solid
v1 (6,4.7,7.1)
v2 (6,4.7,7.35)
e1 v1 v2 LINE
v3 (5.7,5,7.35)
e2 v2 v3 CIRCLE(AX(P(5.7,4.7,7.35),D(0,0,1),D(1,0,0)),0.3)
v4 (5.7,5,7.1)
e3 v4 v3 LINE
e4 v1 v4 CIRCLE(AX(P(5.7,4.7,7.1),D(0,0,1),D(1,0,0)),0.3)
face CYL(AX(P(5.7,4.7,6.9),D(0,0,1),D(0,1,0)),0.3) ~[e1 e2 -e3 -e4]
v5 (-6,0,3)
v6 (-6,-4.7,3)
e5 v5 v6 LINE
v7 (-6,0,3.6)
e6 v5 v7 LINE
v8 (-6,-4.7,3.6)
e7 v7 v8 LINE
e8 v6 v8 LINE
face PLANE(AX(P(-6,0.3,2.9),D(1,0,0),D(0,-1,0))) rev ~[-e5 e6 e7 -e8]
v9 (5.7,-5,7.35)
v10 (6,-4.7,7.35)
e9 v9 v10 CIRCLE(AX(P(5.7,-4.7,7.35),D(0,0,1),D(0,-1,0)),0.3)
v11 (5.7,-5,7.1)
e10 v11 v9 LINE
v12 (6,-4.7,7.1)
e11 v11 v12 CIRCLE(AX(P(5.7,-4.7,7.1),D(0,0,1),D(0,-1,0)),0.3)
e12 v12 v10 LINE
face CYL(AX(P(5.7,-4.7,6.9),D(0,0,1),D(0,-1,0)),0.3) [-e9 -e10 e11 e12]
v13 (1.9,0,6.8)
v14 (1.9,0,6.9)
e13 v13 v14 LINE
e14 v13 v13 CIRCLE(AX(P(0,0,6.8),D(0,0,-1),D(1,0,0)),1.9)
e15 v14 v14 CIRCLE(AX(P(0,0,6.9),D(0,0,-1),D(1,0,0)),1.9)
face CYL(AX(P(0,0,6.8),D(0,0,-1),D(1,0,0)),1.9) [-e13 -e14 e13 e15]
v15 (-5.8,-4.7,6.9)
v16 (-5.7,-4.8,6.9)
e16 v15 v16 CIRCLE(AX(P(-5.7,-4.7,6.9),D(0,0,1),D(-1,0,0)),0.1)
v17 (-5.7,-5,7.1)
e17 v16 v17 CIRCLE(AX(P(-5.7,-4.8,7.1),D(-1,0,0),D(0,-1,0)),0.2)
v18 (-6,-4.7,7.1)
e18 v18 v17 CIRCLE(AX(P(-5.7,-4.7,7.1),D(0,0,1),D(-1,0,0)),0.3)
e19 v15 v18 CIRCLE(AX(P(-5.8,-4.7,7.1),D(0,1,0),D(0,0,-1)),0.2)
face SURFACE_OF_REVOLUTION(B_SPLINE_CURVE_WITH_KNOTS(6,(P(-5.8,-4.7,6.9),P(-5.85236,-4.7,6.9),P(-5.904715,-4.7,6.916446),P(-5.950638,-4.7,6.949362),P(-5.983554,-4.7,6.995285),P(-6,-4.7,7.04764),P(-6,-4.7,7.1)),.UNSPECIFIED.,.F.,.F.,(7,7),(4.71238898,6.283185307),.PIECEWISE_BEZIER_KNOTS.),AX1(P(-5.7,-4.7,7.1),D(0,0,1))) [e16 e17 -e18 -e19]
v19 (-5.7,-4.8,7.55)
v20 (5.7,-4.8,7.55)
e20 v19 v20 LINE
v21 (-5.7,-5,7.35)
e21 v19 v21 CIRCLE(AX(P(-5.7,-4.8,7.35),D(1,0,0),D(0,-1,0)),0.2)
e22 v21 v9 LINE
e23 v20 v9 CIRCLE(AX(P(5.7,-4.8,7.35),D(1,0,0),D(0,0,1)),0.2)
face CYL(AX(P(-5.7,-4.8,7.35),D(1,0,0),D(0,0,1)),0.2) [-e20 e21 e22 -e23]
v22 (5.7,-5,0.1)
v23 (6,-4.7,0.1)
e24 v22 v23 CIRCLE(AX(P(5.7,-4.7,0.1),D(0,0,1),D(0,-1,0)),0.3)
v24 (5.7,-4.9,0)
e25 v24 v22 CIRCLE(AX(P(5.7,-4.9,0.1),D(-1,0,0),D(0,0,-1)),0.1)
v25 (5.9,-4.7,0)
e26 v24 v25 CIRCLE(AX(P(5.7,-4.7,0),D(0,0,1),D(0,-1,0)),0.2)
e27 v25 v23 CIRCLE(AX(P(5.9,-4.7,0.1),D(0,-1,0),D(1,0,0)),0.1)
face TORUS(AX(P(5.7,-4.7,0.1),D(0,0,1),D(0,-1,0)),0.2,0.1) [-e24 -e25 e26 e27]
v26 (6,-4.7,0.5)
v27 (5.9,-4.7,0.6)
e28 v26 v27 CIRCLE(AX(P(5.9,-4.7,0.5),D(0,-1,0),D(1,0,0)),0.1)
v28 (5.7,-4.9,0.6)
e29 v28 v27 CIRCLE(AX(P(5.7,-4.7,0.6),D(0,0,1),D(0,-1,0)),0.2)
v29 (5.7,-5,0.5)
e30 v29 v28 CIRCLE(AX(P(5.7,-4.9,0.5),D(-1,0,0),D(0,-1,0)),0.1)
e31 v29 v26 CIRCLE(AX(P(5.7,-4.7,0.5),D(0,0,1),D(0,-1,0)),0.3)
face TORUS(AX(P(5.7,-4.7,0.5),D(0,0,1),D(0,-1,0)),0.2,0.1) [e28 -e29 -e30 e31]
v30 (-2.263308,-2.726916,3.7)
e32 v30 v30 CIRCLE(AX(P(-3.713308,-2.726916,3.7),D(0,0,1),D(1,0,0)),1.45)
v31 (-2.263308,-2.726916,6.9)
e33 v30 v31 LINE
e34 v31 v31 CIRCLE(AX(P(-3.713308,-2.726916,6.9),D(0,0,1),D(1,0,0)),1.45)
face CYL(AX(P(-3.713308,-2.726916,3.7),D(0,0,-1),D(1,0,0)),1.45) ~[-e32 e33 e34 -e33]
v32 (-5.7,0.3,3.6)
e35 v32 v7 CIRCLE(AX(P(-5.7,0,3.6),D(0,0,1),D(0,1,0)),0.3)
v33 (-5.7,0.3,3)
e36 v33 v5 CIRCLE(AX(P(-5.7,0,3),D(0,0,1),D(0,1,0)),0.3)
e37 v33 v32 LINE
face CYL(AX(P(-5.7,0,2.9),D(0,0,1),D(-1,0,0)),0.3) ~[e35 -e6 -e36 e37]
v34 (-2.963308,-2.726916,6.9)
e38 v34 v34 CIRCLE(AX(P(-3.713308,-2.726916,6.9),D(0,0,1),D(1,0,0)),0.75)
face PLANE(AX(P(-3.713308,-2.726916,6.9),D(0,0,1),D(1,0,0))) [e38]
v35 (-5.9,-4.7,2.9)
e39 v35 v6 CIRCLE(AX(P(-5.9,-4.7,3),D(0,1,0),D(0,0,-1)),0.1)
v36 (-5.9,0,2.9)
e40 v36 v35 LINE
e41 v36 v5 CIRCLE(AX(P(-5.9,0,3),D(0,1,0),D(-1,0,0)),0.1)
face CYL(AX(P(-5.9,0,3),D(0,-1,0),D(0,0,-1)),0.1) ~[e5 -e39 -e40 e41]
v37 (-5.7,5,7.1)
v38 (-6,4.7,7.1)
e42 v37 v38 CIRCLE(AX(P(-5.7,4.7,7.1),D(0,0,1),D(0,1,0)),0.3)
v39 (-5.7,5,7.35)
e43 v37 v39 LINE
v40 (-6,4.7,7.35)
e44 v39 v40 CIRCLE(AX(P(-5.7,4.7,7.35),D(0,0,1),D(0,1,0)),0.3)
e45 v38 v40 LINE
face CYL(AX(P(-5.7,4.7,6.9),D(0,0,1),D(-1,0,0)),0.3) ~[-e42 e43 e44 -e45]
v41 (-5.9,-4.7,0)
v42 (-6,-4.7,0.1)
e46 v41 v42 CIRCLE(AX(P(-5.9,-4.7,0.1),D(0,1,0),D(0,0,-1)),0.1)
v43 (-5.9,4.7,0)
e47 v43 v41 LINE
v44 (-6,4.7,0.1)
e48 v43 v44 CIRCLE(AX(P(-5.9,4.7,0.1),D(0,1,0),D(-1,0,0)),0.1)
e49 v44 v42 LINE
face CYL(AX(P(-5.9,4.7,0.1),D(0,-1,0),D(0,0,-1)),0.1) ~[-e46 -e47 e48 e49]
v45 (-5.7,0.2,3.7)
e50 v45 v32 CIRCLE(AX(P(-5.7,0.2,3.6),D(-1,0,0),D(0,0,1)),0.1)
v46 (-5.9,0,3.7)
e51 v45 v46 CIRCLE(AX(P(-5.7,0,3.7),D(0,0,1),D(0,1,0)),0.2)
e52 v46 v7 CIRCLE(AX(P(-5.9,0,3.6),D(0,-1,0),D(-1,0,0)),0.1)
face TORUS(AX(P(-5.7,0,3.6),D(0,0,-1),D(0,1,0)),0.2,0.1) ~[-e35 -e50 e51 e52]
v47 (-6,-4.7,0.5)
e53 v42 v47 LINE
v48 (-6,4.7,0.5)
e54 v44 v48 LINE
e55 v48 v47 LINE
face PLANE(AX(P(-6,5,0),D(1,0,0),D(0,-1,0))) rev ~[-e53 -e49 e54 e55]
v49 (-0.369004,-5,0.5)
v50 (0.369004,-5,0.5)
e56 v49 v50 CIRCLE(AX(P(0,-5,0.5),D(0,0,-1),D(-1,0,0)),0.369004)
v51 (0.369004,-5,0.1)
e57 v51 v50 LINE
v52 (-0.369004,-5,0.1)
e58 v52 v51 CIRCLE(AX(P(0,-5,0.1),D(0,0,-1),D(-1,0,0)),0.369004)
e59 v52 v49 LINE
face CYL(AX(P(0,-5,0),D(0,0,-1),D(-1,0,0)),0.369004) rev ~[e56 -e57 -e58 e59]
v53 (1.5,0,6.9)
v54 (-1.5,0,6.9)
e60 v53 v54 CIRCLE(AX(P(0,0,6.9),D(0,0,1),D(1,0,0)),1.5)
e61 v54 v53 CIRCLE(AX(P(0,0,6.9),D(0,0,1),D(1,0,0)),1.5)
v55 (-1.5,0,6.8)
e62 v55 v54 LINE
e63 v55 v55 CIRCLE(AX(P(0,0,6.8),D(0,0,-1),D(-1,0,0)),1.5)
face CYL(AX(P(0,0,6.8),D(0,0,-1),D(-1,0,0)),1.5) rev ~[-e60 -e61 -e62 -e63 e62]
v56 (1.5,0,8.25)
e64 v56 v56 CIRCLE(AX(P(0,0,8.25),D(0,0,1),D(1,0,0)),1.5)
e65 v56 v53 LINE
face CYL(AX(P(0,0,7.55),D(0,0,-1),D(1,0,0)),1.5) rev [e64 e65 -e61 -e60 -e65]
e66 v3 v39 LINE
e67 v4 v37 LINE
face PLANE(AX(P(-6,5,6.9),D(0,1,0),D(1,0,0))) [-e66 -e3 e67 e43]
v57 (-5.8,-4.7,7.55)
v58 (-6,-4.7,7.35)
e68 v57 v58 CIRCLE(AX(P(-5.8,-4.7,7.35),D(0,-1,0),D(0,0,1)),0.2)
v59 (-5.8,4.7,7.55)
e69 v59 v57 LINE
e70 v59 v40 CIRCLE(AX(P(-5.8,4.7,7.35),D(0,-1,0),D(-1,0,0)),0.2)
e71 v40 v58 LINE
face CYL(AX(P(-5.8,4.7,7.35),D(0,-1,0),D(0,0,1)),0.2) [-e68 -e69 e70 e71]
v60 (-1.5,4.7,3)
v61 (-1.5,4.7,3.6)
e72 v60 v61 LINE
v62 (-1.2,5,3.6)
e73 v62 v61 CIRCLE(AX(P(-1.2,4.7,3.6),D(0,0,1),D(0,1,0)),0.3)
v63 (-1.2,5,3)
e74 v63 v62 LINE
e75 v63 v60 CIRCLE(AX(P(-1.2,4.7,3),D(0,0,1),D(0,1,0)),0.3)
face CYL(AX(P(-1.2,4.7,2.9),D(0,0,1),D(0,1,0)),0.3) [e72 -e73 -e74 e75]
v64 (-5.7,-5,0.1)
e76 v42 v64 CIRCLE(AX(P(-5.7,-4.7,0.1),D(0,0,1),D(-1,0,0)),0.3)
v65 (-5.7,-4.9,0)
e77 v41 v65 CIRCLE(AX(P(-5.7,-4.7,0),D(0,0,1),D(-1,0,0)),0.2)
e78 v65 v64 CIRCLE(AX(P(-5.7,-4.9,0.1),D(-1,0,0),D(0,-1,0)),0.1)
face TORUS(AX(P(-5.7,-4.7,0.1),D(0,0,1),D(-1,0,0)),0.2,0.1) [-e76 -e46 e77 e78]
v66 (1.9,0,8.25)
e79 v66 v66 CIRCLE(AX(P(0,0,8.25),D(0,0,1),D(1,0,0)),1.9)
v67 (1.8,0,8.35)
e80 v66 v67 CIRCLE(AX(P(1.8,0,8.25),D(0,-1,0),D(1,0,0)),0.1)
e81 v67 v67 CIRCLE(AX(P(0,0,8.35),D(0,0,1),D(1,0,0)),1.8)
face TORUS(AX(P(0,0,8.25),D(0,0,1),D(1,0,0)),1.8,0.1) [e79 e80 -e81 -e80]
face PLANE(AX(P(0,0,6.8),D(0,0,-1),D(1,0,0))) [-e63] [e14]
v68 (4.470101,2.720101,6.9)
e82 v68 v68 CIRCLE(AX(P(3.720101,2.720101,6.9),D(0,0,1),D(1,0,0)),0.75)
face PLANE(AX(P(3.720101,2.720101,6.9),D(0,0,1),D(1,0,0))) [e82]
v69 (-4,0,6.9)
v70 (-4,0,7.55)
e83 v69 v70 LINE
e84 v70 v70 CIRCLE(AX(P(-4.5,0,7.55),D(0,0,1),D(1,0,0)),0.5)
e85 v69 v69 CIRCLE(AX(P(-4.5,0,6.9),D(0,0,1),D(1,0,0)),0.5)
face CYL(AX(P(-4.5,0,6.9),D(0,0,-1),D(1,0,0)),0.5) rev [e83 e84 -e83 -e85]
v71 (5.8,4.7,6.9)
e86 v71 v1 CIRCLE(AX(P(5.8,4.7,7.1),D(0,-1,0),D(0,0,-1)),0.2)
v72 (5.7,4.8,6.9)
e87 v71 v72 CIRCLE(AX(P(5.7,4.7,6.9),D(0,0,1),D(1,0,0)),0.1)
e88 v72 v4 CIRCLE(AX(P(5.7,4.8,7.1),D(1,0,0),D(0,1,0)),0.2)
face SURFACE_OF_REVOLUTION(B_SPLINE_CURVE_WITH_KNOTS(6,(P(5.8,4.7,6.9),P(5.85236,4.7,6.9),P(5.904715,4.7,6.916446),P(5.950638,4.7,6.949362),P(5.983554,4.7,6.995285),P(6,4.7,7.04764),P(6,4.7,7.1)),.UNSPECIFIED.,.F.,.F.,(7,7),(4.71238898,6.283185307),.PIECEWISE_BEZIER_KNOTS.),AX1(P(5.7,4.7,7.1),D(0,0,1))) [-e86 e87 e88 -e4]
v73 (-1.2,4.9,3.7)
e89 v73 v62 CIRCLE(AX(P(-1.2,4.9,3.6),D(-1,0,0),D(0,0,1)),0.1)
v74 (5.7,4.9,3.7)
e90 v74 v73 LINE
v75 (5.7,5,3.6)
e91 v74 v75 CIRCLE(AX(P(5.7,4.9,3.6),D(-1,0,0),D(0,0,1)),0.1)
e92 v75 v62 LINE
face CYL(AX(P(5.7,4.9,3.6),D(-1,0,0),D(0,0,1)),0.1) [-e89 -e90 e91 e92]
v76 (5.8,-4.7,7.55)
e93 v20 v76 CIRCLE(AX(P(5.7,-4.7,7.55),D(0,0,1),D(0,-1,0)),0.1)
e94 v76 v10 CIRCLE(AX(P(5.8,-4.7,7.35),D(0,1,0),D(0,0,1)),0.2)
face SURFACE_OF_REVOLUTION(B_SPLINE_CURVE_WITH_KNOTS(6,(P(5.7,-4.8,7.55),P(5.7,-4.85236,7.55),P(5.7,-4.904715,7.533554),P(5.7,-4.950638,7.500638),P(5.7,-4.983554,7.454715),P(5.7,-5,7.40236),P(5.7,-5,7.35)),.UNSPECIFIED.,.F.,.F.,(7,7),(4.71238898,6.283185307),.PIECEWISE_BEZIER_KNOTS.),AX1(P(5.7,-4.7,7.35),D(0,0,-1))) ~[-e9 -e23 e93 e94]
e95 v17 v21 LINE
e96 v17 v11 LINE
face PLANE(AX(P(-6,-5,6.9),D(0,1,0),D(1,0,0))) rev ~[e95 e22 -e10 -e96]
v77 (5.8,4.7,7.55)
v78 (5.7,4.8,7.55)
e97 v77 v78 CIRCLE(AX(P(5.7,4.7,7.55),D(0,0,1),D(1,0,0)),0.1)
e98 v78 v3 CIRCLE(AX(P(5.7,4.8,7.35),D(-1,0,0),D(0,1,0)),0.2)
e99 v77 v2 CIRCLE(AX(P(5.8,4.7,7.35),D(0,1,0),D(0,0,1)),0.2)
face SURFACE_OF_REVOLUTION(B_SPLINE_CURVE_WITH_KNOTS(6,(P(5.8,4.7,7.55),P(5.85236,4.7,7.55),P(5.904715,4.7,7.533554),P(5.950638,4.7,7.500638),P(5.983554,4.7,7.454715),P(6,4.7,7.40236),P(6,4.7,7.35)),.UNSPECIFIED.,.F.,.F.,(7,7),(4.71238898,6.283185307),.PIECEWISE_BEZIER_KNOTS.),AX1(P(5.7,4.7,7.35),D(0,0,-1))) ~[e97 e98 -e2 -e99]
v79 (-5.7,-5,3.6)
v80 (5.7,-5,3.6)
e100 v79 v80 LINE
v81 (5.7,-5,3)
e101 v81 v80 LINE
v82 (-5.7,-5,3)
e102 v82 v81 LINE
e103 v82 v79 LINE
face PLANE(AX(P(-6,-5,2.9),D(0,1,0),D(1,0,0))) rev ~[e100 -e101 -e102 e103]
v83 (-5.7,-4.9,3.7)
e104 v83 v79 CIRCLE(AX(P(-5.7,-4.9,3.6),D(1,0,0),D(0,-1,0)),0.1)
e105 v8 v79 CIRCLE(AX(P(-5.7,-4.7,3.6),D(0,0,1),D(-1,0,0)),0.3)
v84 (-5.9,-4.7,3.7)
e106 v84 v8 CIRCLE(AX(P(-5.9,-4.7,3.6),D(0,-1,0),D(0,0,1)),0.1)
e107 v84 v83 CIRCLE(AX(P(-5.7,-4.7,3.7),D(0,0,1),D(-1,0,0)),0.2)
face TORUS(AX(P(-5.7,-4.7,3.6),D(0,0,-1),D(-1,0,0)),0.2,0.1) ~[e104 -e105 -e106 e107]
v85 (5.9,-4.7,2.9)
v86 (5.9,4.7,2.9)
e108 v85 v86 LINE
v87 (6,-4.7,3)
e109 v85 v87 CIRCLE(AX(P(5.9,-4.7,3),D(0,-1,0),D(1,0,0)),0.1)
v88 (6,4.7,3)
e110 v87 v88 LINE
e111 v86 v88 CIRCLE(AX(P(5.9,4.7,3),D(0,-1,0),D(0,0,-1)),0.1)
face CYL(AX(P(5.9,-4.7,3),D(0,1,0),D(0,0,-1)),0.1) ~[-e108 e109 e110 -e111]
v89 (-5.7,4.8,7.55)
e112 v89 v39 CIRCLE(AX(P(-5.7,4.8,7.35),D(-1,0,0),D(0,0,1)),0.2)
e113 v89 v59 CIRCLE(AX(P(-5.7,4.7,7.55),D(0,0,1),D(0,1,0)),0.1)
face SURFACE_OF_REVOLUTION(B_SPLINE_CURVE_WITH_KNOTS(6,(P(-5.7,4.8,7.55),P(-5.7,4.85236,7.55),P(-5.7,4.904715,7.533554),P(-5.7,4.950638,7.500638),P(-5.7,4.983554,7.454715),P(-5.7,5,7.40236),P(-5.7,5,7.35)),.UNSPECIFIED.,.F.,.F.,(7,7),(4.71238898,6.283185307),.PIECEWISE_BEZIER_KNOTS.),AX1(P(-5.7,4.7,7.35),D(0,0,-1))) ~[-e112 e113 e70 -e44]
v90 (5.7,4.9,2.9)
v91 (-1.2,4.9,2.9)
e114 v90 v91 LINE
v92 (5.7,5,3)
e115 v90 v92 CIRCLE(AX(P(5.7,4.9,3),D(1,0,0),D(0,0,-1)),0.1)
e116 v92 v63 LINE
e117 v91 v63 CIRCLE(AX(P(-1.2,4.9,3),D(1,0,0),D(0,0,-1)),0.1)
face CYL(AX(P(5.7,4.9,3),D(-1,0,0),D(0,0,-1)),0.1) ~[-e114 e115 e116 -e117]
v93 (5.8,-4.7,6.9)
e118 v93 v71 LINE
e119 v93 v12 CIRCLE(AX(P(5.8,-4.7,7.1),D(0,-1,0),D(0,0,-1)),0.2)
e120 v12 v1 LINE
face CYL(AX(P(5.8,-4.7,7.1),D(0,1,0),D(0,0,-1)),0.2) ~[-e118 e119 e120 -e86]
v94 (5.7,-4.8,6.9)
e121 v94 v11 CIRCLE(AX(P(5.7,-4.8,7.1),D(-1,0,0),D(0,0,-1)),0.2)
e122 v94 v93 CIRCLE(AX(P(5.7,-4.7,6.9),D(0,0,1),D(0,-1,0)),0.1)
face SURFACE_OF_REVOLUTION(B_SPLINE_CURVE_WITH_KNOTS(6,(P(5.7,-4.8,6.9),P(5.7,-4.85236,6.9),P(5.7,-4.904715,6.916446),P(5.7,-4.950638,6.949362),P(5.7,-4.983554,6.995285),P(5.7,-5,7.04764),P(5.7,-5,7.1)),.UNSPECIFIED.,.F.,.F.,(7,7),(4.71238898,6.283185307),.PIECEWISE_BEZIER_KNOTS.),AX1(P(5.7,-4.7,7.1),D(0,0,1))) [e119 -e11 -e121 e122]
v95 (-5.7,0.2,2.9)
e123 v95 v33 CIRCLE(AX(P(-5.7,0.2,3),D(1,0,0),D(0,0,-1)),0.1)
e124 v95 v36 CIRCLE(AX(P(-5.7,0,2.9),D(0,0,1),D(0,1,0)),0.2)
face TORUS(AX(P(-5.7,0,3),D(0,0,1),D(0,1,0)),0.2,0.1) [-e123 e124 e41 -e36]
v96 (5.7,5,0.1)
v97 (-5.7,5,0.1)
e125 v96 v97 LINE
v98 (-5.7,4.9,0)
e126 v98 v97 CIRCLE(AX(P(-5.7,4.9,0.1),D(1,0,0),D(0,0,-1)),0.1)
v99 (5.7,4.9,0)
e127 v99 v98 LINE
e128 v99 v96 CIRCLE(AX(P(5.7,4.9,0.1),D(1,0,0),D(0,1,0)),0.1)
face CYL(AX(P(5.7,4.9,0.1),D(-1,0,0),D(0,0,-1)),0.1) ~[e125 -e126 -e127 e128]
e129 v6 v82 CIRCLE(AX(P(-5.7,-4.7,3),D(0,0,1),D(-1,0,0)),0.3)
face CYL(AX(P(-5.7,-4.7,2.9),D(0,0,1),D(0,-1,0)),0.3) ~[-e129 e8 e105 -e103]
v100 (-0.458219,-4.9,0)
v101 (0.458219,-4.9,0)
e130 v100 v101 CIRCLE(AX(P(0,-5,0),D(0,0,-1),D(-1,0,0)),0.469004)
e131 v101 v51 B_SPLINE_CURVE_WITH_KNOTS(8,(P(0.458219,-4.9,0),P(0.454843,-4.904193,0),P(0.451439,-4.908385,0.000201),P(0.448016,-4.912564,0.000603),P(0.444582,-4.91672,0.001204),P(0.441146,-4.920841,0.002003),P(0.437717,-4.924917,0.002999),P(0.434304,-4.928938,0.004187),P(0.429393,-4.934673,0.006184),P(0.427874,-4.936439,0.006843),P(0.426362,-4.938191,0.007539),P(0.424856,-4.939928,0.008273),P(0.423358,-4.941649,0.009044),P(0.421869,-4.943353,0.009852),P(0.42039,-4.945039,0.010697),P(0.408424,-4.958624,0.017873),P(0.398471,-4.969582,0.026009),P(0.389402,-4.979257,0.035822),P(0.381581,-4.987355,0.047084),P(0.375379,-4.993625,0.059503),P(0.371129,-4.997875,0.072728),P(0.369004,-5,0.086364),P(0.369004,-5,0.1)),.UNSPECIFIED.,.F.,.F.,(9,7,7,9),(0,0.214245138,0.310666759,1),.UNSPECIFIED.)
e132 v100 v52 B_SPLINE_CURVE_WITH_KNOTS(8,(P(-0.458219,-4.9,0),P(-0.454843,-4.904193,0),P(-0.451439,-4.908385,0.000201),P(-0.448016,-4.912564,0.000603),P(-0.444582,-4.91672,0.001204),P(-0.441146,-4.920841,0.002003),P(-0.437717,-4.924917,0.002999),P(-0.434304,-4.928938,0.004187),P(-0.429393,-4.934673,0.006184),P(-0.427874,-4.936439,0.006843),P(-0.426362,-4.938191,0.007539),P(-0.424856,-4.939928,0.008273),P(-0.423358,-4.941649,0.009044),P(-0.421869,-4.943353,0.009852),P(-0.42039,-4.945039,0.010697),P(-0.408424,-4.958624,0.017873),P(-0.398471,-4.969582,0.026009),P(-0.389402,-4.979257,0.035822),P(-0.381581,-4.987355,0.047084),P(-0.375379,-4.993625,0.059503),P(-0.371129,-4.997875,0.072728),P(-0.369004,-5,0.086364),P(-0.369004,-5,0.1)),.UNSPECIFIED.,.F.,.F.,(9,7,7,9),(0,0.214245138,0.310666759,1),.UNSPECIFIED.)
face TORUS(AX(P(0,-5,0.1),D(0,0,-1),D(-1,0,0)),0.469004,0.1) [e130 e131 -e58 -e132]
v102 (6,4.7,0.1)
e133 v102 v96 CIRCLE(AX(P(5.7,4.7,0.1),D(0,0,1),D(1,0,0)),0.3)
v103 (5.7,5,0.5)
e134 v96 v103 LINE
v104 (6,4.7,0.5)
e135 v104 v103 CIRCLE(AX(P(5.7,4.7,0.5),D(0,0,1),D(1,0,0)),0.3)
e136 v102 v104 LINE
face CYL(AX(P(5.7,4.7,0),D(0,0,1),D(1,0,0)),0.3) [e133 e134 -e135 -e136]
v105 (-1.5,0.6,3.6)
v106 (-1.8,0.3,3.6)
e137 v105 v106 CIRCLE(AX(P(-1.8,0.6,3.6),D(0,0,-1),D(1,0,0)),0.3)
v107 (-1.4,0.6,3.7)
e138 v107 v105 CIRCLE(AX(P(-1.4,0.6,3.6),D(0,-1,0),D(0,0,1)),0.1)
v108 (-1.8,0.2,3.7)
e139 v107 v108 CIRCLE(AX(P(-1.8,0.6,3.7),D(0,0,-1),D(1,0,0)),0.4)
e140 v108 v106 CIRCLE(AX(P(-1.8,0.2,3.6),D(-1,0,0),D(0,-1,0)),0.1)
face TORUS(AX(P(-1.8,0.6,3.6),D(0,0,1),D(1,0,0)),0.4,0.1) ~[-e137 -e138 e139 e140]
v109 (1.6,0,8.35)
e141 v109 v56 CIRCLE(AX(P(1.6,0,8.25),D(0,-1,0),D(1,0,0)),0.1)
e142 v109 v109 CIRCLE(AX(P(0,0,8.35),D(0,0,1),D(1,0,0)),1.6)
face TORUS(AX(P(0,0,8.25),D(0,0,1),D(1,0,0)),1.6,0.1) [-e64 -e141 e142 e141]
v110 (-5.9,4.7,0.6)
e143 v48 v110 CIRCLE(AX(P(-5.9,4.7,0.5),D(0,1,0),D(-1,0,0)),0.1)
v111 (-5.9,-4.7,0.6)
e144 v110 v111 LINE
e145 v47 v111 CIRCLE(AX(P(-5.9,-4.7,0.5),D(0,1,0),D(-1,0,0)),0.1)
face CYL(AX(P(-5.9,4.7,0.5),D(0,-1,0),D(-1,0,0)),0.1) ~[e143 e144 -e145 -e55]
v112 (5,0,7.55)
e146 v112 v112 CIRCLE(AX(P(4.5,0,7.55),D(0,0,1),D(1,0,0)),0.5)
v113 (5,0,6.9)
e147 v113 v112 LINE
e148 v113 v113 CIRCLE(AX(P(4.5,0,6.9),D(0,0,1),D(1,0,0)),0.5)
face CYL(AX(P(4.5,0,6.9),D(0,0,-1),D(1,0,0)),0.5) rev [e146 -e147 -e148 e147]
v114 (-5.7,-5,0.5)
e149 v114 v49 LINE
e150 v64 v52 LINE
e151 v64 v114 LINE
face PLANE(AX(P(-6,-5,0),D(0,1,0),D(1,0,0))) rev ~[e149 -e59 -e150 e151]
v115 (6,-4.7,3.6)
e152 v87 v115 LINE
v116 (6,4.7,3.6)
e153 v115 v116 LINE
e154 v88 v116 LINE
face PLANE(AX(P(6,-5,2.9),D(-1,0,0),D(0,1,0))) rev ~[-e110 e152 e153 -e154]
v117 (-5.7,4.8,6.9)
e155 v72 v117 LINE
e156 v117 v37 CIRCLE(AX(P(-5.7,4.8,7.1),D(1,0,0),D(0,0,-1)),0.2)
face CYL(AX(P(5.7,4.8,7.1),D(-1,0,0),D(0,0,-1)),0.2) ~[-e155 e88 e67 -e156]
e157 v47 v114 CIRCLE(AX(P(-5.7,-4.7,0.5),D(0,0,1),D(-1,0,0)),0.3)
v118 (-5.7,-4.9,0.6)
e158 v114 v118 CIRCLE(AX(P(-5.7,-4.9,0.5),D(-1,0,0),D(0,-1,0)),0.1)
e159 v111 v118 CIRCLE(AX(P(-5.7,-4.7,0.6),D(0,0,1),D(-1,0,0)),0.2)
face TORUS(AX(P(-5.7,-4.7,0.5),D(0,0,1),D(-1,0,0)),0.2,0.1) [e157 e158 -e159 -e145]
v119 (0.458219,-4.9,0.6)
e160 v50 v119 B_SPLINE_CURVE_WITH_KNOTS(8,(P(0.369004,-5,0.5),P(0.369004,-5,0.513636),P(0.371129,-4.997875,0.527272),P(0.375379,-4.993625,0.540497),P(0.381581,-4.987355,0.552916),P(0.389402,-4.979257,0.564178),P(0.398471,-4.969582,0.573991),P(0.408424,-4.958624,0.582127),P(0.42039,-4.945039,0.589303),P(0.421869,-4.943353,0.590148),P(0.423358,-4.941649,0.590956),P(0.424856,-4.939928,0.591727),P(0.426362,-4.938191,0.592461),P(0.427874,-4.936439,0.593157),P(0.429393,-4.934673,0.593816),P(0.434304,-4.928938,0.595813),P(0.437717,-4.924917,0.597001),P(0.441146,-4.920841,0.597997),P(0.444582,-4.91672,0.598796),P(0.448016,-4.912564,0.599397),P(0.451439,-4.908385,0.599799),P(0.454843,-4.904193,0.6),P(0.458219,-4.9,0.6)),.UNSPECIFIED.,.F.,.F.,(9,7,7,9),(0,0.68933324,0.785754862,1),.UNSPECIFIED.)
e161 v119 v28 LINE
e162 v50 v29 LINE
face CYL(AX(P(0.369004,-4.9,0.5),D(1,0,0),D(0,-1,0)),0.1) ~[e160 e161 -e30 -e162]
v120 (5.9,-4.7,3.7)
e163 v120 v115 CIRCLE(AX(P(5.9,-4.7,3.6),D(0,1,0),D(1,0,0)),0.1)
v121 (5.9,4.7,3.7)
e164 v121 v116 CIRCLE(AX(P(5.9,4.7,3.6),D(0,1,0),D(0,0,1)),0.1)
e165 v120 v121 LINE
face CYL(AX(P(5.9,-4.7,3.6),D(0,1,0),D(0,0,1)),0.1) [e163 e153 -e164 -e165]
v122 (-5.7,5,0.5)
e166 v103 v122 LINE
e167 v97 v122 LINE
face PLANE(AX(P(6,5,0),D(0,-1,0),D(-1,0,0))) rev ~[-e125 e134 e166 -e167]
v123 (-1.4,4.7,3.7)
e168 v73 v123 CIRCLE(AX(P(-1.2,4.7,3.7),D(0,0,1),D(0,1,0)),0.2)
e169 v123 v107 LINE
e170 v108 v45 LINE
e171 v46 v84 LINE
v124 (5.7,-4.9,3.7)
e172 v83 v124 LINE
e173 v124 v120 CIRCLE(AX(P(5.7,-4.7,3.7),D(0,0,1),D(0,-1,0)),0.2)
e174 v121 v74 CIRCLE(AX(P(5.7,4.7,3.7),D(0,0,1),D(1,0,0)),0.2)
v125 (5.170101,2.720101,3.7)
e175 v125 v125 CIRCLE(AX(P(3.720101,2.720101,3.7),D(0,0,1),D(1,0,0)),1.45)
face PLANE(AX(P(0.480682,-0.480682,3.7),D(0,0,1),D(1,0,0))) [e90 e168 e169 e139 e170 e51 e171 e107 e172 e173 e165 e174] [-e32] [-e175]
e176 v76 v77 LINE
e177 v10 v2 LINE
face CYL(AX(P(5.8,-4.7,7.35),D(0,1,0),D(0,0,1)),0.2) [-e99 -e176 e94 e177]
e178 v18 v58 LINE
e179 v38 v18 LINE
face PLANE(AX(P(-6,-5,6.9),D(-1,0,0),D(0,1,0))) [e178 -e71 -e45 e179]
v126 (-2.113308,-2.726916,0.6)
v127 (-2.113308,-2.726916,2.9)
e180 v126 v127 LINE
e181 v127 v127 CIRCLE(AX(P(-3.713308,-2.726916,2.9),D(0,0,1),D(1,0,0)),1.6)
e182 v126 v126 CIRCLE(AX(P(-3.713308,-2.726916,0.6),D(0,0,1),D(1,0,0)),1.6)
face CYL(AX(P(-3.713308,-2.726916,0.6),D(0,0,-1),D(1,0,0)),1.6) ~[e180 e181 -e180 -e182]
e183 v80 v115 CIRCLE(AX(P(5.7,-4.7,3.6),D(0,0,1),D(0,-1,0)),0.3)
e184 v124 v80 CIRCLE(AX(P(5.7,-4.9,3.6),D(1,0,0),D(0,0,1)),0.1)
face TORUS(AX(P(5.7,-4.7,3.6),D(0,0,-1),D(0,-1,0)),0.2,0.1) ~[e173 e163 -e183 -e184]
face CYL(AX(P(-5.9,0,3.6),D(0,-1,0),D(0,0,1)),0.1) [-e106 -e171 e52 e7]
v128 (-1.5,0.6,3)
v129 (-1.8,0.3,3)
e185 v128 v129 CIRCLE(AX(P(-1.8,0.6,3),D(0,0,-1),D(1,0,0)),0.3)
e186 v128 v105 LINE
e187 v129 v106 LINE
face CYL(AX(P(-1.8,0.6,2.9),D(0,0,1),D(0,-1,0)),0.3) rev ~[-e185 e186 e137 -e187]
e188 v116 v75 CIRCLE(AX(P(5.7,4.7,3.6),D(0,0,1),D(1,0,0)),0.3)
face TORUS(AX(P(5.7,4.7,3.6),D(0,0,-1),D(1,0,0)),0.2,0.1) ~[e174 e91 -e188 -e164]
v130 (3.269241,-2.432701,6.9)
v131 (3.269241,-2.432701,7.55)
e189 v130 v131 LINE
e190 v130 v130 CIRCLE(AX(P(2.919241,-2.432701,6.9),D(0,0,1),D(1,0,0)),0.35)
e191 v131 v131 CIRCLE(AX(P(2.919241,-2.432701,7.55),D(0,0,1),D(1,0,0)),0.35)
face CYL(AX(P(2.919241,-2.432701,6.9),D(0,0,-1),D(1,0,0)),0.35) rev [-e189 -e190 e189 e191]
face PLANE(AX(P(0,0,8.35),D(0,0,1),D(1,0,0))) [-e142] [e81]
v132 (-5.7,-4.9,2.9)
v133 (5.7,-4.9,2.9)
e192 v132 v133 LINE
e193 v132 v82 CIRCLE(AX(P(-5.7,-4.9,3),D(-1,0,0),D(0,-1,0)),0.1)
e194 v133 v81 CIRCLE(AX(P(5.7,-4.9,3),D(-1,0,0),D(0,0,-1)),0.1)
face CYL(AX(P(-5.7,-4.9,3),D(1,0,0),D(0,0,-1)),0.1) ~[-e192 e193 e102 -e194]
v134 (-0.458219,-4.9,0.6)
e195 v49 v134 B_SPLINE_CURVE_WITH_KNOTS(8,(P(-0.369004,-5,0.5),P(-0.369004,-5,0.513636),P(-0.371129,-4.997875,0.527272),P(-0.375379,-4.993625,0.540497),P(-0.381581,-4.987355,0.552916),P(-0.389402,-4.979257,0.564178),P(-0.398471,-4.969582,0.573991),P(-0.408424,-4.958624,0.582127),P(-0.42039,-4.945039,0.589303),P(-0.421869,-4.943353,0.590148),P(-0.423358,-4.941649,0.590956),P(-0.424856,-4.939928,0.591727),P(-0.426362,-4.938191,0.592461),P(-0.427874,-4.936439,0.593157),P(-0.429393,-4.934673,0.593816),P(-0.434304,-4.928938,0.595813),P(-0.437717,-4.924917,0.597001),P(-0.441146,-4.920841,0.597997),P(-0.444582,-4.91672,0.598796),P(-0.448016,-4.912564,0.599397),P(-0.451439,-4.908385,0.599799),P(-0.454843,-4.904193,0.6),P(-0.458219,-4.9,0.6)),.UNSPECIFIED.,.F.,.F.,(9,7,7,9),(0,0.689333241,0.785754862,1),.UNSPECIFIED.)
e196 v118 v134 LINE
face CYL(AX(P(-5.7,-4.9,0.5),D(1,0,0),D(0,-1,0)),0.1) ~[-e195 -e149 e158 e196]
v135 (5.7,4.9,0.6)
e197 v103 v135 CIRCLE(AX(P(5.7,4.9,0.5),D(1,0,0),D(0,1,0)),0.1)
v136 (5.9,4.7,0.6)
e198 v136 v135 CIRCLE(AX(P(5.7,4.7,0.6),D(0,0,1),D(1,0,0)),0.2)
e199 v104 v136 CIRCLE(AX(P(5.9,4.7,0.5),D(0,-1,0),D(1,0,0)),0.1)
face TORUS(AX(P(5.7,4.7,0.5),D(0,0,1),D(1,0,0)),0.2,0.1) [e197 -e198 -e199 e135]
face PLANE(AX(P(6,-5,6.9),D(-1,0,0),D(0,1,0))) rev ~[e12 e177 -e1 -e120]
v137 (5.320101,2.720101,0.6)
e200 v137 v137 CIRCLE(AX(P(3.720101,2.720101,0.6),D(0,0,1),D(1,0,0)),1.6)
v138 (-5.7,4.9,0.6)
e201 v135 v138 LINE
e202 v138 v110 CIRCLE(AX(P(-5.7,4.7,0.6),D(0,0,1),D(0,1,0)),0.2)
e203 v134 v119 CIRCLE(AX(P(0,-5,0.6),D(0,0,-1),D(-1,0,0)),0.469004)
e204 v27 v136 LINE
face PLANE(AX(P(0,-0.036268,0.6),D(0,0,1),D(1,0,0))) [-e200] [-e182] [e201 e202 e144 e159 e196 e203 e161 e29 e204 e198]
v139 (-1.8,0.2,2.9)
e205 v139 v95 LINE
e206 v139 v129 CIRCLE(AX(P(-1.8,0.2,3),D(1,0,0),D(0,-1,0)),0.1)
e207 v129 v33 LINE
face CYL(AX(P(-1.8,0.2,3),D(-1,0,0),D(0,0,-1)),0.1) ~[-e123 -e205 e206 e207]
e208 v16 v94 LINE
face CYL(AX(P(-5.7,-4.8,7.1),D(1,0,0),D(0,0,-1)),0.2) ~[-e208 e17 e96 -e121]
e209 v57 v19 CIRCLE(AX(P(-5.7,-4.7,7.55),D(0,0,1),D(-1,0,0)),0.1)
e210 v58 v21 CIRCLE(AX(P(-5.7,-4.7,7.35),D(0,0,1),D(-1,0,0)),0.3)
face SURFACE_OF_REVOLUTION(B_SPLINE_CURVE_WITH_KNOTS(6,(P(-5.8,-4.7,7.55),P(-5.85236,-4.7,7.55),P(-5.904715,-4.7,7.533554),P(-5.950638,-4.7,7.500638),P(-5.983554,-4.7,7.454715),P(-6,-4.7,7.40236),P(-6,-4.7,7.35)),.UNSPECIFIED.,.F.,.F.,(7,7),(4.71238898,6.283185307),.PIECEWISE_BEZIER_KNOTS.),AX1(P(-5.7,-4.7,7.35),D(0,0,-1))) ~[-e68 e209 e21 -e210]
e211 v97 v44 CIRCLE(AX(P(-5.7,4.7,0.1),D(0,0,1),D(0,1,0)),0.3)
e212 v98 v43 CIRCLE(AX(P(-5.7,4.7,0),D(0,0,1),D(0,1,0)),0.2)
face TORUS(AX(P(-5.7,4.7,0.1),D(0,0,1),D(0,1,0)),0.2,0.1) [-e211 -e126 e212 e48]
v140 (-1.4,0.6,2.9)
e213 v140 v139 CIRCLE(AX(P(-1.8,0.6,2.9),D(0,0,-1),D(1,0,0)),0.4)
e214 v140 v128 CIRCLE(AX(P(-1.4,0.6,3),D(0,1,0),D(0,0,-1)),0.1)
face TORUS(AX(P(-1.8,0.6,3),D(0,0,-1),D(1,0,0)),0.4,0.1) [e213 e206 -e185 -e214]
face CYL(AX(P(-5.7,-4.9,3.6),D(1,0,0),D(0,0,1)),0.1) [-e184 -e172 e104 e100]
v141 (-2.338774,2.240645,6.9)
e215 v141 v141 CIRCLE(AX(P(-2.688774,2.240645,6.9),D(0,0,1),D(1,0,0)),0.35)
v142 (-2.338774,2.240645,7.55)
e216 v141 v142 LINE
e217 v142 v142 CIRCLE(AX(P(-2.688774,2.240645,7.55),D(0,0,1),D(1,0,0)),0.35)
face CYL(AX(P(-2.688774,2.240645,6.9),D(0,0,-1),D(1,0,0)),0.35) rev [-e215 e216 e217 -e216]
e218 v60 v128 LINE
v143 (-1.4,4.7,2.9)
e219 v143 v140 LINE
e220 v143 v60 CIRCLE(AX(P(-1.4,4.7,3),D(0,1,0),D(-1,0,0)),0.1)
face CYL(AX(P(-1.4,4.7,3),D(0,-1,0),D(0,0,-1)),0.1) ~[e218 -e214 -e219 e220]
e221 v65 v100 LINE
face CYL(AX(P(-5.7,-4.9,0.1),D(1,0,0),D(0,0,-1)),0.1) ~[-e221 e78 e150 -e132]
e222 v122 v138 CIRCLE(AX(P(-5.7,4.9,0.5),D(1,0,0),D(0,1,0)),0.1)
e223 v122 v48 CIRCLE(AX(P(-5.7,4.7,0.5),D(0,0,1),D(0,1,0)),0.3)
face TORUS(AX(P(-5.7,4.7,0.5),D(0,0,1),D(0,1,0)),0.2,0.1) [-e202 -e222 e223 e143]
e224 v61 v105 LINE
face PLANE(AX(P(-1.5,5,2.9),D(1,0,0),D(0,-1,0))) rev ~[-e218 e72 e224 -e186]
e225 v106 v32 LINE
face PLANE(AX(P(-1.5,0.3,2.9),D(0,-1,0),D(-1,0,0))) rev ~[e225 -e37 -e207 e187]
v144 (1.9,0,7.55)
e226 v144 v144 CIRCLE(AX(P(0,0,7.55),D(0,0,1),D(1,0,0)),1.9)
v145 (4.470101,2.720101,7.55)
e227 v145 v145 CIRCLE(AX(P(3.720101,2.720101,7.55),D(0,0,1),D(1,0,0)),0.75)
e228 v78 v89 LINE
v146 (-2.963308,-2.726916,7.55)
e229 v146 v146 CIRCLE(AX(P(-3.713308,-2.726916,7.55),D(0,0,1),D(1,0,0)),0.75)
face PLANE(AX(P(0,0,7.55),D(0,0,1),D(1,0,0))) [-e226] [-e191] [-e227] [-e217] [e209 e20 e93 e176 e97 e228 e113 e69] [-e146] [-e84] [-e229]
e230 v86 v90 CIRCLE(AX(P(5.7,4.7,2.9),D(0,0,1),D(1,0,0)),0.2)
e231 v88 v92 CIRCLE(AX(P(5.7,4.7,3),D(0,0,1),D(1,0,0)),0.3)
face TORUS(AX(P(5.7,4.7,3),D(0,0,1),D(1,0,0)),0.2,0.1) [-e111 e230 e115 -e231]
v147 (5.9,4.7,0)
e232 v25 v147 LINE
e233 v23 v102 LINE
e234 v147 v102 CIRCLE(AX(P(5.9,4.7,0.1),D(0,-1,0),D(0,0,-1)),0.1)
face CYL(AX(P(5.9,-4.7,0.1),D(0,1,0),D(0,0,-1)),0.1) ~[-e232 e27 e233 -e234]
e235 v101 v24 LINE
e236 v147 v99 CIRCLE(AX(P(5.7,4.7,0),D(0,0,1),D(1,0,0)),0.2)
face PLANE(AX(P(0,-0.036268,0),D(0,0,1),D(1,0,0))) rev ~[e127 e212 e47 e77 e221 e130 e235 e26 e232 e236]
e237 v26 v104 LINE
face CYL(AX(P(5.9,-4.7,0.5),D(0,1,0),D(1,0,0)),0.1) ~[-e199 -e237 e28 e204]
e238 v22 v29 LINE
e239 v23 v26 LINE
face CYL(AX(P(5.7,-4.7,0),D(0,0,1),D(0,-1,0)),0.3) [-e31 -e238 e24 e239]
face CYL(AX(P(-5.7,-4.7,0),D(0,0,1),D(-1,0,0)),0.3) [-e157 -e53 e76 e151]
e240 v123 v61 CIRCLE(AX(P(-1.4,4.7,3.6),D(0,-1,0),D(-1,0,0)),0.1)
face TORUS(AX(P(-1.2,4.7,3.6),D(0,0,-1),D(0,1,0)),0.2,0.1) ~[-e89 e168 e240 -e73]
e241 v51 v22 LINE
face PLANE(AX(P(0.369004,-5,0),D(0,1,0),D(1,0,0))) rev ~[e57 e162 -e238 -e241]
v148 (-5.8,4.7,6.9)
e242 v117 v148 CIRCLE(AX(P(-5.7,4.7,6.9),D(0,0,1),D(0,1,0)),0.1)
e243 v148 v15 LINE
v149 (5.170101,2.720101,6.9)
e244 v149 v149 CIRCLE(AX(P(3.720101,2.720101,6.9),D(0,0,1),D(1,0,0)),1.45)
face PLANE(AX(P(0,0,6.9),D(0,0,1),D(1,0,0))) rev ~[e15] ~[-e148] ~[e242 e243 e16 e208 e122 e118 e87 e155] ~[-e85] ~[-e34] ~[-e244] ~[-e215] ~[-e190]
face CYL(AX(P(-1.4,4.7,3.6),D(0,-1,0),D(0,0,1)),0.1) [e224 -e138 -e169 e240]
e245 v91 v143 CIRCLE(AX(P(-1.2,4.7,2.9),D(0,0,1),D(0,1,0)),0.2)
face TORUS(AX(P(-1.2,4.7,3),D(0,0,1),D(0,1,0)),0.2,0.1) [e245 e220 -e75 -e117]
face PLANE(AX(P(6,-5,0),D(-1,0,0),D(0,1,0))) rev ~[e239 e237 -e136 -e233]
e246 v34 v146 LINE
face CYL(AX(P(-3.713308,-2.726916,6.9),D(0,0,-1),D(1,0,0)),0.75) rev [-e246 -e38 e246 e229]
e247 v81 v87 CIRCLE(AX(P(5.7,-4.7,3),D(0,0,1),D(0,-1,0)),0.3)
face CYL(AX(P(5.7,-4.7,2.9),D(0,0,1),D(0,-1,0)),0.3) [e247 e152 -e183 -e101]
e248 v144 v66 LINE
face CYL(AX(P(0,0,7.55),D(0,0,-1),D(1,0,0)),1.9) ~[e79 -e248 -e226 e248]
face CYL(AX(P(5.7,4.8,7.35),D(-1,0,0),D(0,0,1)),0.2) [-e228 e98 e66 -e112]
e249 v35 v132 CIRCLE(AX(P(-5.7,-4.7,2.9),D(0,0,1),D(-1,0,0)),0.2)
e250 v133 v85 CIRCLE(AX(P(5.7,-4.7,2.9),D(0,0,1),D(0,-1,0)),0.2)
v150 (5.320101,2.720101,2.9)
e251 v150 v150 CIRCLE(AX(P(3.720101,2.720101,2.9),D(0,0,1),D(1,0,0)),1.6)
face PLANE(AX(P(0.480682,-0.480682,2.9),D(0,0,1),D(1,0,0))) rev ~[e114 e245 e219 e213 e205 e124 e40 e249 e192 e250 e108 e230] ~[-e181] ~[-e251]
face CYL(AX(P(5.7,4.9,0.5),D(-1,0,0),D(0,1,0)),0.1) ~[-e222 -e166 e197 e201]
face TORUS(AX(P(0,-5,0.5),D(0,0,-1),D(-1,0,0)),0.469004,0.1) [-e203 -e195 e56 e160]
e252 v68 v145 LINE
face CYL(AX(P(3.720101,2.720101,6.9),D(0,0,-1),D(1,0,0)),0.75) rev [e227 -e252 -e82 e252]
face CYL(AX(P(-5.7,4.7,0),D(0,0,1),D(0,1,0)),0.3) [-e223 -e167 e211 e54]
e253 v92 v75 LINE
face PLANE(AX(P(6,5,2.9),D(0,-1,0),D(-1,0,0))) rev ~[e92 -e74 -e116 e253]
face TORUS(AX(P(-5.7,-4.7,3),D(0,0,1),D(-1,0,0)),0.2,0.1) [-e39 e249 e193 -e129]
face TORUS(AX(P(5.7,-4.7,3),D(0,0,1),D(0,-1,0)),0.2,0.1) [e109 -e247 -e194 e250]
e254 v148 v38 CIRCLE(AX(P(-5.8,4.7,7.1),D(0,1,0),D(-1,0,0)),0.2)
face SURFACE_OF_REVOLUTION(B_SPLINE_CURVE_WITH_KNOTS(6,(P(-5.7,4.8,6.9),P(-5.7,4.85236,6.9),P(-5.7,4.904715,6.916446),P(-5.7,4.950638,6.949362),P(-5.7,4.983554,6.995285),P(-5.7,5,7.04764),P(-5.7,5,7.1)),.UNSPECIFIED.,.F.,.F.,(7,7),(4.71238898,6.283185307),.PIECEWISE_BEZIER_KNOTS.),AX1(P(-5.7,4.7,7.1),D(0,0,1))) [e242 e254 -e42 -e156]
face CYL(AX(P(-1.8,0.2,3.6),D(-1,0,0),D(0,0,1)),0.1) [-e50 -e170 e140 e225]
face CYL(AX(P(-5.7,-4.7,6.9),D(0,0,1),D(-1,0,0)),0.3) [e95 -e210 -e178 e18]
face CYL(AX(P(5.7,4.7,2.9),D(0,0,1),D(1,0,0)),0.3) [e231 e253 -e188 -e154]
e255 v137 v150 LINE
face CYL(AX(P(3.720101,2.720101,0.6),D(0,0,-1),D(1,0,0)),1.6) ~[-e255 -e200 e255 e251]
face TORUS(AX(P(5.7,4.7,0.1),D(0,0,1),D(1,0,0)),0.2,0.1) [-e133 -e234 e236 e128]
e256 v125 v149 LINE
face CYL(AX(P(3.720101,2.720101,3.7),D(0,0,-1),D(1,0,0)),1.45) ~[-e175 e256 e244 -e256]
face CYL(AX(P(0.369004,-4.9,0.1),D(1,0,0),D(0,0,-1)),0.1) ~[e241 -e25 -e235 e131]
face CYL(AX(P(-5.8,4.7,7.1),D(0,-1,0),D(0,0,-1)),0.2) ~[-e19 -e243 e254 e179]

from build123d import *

# Parameters (mm, degrees)
BOSS_EXTRUDE1_DEPTH = 0.6
FILLET1_R           = 0.3
FILLET2_R           = 0.1
SKETCH2_R           = 1.6
BOSS_EXTRUDE2_DEPTH = 2.3
BOSS_EXTRUDE3_DEPTH = 0.8
FILLET3_R           = 0.3
FILLET4_R           = 0.1
SKETCH4_R           = 1.45
BOSS_EXTRUDE4_DEPTH = 3.2
SKETCH5_W           = 12
SKETCH5_H           = 10
SKETCH5_R           = 0.75
SKETCH5_R_2         = 0.5
SKETCH5_R_3         = 0.35
SKETCH5_R_4         = 1.5
BOSS_EXTRUDE5_DEPTH = 0.65
FILLET5_R           = 0.3
FILLET6_R           = 0.2
SKETCH6_R           = 1.9
SKETCH6_R_2         = 1.5
BOSS_EXTRUDE6_DEPTH = 0.8
FILLET7_R           = 0.1
BOSS_EXTRUDE7_START = 0.1
SKETCH7_R           = 1.9
SKETCH7_R_2         = 1.5
BOSS_EXTRUDE7_DEPTH = 0.1


with BuildPart() as part:
    # Sketch1 → Boss-Extrude1 (new body)
    with BuildSketch(Plane.XY):
        with BuildLine():
            Line((0.369004191, -5), (6, -5))
            Line((6, -5), (6, 5))
            Line((6, 5), (-6, 5))
            Line((-6, 5), (-6, -5))
            Line((-6, -5), (-0.369004191, -5))
            ThreePointArc((-0.369004191, -5), (0, -4.630995809), (0.369004191, -5))
        make_face()
    extrude(amount=BOSS_EXTRUDE1_DEPTH)

    # Fillet1
    fillet1_edges = [part.edges().sort_by_distance(p)[0] for p in [
        (6, -5, 0.3),
        (-6, -5, 0.3),
        (-6, 5, 0.3),
        (6, 5, 0.3),
    ]]
    fillet(fillet1_edges, radius=FILLET1_R)

    # Fillet2
    fillet2_edges = [part.edges().sort_by_distance(p)[0] for p in [
        (0, -4.630995809, 0.6),
        (-6, 0, 0),
        (3.034502095, -5, 0.6),
        (-6, 0, 0.6),
        (6, 0, 0),
        (-3.034502095, -5, 0),
        (0, 5, 0),
        (-5.912132034, -4.912132034, 0),
        (5.912132034, -4.912132034, 0),
        (5.912132034, 4.912132034, 0),
        (-5.912132034, 4.912132034, 0),
        (0, 5, 0.6),
        (6, 0, 0.6),
        (-3.034502095, -5, 0.6),
        (-5.912132034, -4.912132034, 0.6),
        (5.912132034, -4.912132034, 0.6),
        (5.912132034, 4.912132034, 0.6),
        (-5.912132034, 4.912132034, 0.6),
        (3.034502095, -5, 0),
        (0, -4.630995809, 0),
    ]]
    fillet(fillet2_edges, radius=FILLET2_R)

    # Sketch2 → Boss-Extrude2 (add)
    with BuildSketch(Plane.XY.offset(0.6)):
        with Locations((-3.713308082, -2.726915766)):
            Circle(SKETCH2_R)
        with Locations((3.720101013, 2.720101013)):
            Circle(SKETCH2_R)
    extrude(amount=BOSS_EXTRUDE2_DEPTH)

    # Sketch3 → Boss-Extrude3 (add)
    with BuildSketch(Plane.XY.offset(2.9)):
        Polygon((-6, -5), (6, -5), (6, 5), (-1.5, 5), (-1.5, 0.3), (-6, 0.3), align=None)
    extrude(amount=BOSS_EXTRUDE3_DEPTH)

    # Fillet3
    fillet3_edges = [part.edges().sort_by_distance(p)[0] for p in [
        (6, -5, 3.3),
        (6, 5, 3.3),
        (-1.5, 5, 3.3),
        (-1.5, 0.3, 3.3),
        (-6, 0.3, 3.3),
        (-6, -5, 3.3),
    ]]
    fillet(fillet3_edges, radius=FILLET3_R)

    # Fillet4
    fillet4_edges = [part.edges().sort_by_distance(p)[0] for p in [
        (2.25, 5, 2.9),
        (2.25, 5, 3.7),
        (6, 0, 2.9),
        (0, -5, 2.9),
        (-6, -2.35, 2.9),
        (-3.75, 0.3, 2.9),
        (-1.5, 2.65, 2.9),
        (-1.412132034, 4.912132034, 2.9),
        (-5.912132034, 0.212132034, 2.9),
        (-5.912132034, -4.912132034, 2.9),
        (5.912132034, -4.912132034, 2.9),
        (5.912132034, 4.912132034, 2.9),
        (6, 0, 3.7),
        (-1.5, 2.65, 3.7),
        (-3.75, 0.3, 3.7),
        (-6, -2.35, 3.7),
        (0, -5, 3.7),
        (-1.412132034, 4.912132034, 3.7),
        (-5.912132034, 0.212132034, 3.7),
        (-5.912132034, -4.912132034, 3.7),
        (5.912132034, -4.912132034, 3.7),
        (5.912132034, 4.912132034, 3.7),
        (-1.587867966, 0.387867966, 2.9),
        (-1.587867966, 0.387867966, 3.7),
    ]]
    fillet(fillet4_edges, radius=FILLET4_R)

    # Sketch4 → Boss-Extrude4 (add)
    with BuildSketch(Plane.XY.offset(3.7)):
        with Locations((3.720101013, 2.720101013)):
            Circle(SKETCH4_R)
        with Locations((-3.713308082, -2.726915766)):
            Circle(SKETCH4_R)
    extrude(amount=BOSS_EXTRUDE4_DEPTH)

    # Sketch5 → Boss-Extrude5 (add)
    with BuildSketch(Plane.XY.offset(6.9)):
        Rectangle(SKETCH5_W, SKETCH5_H)
        with Locations((3.720101013, 2.720101013)):
            Circle(SKETCH5_R, mode=Mode.SUBTRACT)
        with Locations((-3.713308082, -2.726915766)):
            Circle(SKETCH5_R, mode=Mode.SUBTRACT)
        with Locations((4.5, 0)):
            Circle(SKETCH5_R_2, mode=Mode.SUBTRACT)
        with Locations((-4.5, 0)):
            Circle(SKETCH5_R_2, mode=Mode.SUBTRACT)
        with Locations((2.919240862, -2.432700719)):
            Circle(SKETCH5_R_3, mode=Mode.SUBTRACT)
        with Locations((-2.688774479, 2.240645399)):
            Circle(SKETCH5_R_3, mode=Mode.SUBTRACT)
        Circle(SKETCH5_R_4, mode=Mode.SUBTRACT)
    extrude(amount=BOSS_EXTRUDE5_DEPTH)

    # Fillet5
    fillet5_edges = [part.edges().sort_by_distance(p)[0] for p in [
        (6, -5, 7.225),
        (6, 5, 7.225),
        (-6, 5, 7.225),
        (-6, -5, 7.225),
    ]]
    fillet(fillet5_edges, radius=FILLET5_R)

    # Fillet6
    fillet6_edges = [part.edges().sort_by_distance(p)[0] for p in [
        (6, 0, 6.9),
        (6, 0, 7.55),
        (0, -5, 6.9),
        (-6, 0, 6.9),
        (0, 5, 6.9),
        (5.912132034, 4.912132034, 6.9),
        (-5.912132034, 4.912132034, 6.9),
        (-5.912132034, -4.912132034, 6.9),
        (5.912132034, -4.912132034, 6.9),
        (0, -5, 7.55),
        (0, 5, 7.55),
        (-6, 0, 7.55),
        (5.912132034, 4.912132034, 7.55),
        (-5.912132034, 4.912132034, 7.55),
        (-5.912132034, -4.912132034, 7.55),
        (5.912132034, -4.912132034, 7.55),
    ]]
    fillet(fillet6_edges, radius=FILLET6_R)

    # Sketch6 → Boss-Extrude6 (add)
    with BuildSketch(Plane.XY.offset(7.55)):
        Circle(SKETCH6_R)
        Circle(SKETCH6_R_2, mode=Mode.SUBTRACT)
    extrude(amount=BOSS_EXTRUDE6_DEPTH)

    # Fillet7
    fillet7_edges = [part.edges().sort_by_distance(p)[0] for p in [
        (-1.9, 0, 8.35),
        (-1.5, 0, 8.35),
    ]]
    fillet(fillet7_edges, radius=FILLET7_R)

    # Sketch7 → Boss-Extrude7 (add)
    with BuildSketch(Plane(origin=(0, 0, 6.9), x_dir=(-1, 0, 0), z_dir=(0, 0, -1)).offset(BOSS_EXTRUDE7_START)):
        with Locations(Location((0, 0, 0), (0, 0, 180))):
            Circle(SKETCH7_R)
        Circle(SKETCH7_R_2, mode=Mode.SUBTRACT)
    extrude(amount=-BOSS_EXTRUDE7_DEPTH)


solid = part.part
